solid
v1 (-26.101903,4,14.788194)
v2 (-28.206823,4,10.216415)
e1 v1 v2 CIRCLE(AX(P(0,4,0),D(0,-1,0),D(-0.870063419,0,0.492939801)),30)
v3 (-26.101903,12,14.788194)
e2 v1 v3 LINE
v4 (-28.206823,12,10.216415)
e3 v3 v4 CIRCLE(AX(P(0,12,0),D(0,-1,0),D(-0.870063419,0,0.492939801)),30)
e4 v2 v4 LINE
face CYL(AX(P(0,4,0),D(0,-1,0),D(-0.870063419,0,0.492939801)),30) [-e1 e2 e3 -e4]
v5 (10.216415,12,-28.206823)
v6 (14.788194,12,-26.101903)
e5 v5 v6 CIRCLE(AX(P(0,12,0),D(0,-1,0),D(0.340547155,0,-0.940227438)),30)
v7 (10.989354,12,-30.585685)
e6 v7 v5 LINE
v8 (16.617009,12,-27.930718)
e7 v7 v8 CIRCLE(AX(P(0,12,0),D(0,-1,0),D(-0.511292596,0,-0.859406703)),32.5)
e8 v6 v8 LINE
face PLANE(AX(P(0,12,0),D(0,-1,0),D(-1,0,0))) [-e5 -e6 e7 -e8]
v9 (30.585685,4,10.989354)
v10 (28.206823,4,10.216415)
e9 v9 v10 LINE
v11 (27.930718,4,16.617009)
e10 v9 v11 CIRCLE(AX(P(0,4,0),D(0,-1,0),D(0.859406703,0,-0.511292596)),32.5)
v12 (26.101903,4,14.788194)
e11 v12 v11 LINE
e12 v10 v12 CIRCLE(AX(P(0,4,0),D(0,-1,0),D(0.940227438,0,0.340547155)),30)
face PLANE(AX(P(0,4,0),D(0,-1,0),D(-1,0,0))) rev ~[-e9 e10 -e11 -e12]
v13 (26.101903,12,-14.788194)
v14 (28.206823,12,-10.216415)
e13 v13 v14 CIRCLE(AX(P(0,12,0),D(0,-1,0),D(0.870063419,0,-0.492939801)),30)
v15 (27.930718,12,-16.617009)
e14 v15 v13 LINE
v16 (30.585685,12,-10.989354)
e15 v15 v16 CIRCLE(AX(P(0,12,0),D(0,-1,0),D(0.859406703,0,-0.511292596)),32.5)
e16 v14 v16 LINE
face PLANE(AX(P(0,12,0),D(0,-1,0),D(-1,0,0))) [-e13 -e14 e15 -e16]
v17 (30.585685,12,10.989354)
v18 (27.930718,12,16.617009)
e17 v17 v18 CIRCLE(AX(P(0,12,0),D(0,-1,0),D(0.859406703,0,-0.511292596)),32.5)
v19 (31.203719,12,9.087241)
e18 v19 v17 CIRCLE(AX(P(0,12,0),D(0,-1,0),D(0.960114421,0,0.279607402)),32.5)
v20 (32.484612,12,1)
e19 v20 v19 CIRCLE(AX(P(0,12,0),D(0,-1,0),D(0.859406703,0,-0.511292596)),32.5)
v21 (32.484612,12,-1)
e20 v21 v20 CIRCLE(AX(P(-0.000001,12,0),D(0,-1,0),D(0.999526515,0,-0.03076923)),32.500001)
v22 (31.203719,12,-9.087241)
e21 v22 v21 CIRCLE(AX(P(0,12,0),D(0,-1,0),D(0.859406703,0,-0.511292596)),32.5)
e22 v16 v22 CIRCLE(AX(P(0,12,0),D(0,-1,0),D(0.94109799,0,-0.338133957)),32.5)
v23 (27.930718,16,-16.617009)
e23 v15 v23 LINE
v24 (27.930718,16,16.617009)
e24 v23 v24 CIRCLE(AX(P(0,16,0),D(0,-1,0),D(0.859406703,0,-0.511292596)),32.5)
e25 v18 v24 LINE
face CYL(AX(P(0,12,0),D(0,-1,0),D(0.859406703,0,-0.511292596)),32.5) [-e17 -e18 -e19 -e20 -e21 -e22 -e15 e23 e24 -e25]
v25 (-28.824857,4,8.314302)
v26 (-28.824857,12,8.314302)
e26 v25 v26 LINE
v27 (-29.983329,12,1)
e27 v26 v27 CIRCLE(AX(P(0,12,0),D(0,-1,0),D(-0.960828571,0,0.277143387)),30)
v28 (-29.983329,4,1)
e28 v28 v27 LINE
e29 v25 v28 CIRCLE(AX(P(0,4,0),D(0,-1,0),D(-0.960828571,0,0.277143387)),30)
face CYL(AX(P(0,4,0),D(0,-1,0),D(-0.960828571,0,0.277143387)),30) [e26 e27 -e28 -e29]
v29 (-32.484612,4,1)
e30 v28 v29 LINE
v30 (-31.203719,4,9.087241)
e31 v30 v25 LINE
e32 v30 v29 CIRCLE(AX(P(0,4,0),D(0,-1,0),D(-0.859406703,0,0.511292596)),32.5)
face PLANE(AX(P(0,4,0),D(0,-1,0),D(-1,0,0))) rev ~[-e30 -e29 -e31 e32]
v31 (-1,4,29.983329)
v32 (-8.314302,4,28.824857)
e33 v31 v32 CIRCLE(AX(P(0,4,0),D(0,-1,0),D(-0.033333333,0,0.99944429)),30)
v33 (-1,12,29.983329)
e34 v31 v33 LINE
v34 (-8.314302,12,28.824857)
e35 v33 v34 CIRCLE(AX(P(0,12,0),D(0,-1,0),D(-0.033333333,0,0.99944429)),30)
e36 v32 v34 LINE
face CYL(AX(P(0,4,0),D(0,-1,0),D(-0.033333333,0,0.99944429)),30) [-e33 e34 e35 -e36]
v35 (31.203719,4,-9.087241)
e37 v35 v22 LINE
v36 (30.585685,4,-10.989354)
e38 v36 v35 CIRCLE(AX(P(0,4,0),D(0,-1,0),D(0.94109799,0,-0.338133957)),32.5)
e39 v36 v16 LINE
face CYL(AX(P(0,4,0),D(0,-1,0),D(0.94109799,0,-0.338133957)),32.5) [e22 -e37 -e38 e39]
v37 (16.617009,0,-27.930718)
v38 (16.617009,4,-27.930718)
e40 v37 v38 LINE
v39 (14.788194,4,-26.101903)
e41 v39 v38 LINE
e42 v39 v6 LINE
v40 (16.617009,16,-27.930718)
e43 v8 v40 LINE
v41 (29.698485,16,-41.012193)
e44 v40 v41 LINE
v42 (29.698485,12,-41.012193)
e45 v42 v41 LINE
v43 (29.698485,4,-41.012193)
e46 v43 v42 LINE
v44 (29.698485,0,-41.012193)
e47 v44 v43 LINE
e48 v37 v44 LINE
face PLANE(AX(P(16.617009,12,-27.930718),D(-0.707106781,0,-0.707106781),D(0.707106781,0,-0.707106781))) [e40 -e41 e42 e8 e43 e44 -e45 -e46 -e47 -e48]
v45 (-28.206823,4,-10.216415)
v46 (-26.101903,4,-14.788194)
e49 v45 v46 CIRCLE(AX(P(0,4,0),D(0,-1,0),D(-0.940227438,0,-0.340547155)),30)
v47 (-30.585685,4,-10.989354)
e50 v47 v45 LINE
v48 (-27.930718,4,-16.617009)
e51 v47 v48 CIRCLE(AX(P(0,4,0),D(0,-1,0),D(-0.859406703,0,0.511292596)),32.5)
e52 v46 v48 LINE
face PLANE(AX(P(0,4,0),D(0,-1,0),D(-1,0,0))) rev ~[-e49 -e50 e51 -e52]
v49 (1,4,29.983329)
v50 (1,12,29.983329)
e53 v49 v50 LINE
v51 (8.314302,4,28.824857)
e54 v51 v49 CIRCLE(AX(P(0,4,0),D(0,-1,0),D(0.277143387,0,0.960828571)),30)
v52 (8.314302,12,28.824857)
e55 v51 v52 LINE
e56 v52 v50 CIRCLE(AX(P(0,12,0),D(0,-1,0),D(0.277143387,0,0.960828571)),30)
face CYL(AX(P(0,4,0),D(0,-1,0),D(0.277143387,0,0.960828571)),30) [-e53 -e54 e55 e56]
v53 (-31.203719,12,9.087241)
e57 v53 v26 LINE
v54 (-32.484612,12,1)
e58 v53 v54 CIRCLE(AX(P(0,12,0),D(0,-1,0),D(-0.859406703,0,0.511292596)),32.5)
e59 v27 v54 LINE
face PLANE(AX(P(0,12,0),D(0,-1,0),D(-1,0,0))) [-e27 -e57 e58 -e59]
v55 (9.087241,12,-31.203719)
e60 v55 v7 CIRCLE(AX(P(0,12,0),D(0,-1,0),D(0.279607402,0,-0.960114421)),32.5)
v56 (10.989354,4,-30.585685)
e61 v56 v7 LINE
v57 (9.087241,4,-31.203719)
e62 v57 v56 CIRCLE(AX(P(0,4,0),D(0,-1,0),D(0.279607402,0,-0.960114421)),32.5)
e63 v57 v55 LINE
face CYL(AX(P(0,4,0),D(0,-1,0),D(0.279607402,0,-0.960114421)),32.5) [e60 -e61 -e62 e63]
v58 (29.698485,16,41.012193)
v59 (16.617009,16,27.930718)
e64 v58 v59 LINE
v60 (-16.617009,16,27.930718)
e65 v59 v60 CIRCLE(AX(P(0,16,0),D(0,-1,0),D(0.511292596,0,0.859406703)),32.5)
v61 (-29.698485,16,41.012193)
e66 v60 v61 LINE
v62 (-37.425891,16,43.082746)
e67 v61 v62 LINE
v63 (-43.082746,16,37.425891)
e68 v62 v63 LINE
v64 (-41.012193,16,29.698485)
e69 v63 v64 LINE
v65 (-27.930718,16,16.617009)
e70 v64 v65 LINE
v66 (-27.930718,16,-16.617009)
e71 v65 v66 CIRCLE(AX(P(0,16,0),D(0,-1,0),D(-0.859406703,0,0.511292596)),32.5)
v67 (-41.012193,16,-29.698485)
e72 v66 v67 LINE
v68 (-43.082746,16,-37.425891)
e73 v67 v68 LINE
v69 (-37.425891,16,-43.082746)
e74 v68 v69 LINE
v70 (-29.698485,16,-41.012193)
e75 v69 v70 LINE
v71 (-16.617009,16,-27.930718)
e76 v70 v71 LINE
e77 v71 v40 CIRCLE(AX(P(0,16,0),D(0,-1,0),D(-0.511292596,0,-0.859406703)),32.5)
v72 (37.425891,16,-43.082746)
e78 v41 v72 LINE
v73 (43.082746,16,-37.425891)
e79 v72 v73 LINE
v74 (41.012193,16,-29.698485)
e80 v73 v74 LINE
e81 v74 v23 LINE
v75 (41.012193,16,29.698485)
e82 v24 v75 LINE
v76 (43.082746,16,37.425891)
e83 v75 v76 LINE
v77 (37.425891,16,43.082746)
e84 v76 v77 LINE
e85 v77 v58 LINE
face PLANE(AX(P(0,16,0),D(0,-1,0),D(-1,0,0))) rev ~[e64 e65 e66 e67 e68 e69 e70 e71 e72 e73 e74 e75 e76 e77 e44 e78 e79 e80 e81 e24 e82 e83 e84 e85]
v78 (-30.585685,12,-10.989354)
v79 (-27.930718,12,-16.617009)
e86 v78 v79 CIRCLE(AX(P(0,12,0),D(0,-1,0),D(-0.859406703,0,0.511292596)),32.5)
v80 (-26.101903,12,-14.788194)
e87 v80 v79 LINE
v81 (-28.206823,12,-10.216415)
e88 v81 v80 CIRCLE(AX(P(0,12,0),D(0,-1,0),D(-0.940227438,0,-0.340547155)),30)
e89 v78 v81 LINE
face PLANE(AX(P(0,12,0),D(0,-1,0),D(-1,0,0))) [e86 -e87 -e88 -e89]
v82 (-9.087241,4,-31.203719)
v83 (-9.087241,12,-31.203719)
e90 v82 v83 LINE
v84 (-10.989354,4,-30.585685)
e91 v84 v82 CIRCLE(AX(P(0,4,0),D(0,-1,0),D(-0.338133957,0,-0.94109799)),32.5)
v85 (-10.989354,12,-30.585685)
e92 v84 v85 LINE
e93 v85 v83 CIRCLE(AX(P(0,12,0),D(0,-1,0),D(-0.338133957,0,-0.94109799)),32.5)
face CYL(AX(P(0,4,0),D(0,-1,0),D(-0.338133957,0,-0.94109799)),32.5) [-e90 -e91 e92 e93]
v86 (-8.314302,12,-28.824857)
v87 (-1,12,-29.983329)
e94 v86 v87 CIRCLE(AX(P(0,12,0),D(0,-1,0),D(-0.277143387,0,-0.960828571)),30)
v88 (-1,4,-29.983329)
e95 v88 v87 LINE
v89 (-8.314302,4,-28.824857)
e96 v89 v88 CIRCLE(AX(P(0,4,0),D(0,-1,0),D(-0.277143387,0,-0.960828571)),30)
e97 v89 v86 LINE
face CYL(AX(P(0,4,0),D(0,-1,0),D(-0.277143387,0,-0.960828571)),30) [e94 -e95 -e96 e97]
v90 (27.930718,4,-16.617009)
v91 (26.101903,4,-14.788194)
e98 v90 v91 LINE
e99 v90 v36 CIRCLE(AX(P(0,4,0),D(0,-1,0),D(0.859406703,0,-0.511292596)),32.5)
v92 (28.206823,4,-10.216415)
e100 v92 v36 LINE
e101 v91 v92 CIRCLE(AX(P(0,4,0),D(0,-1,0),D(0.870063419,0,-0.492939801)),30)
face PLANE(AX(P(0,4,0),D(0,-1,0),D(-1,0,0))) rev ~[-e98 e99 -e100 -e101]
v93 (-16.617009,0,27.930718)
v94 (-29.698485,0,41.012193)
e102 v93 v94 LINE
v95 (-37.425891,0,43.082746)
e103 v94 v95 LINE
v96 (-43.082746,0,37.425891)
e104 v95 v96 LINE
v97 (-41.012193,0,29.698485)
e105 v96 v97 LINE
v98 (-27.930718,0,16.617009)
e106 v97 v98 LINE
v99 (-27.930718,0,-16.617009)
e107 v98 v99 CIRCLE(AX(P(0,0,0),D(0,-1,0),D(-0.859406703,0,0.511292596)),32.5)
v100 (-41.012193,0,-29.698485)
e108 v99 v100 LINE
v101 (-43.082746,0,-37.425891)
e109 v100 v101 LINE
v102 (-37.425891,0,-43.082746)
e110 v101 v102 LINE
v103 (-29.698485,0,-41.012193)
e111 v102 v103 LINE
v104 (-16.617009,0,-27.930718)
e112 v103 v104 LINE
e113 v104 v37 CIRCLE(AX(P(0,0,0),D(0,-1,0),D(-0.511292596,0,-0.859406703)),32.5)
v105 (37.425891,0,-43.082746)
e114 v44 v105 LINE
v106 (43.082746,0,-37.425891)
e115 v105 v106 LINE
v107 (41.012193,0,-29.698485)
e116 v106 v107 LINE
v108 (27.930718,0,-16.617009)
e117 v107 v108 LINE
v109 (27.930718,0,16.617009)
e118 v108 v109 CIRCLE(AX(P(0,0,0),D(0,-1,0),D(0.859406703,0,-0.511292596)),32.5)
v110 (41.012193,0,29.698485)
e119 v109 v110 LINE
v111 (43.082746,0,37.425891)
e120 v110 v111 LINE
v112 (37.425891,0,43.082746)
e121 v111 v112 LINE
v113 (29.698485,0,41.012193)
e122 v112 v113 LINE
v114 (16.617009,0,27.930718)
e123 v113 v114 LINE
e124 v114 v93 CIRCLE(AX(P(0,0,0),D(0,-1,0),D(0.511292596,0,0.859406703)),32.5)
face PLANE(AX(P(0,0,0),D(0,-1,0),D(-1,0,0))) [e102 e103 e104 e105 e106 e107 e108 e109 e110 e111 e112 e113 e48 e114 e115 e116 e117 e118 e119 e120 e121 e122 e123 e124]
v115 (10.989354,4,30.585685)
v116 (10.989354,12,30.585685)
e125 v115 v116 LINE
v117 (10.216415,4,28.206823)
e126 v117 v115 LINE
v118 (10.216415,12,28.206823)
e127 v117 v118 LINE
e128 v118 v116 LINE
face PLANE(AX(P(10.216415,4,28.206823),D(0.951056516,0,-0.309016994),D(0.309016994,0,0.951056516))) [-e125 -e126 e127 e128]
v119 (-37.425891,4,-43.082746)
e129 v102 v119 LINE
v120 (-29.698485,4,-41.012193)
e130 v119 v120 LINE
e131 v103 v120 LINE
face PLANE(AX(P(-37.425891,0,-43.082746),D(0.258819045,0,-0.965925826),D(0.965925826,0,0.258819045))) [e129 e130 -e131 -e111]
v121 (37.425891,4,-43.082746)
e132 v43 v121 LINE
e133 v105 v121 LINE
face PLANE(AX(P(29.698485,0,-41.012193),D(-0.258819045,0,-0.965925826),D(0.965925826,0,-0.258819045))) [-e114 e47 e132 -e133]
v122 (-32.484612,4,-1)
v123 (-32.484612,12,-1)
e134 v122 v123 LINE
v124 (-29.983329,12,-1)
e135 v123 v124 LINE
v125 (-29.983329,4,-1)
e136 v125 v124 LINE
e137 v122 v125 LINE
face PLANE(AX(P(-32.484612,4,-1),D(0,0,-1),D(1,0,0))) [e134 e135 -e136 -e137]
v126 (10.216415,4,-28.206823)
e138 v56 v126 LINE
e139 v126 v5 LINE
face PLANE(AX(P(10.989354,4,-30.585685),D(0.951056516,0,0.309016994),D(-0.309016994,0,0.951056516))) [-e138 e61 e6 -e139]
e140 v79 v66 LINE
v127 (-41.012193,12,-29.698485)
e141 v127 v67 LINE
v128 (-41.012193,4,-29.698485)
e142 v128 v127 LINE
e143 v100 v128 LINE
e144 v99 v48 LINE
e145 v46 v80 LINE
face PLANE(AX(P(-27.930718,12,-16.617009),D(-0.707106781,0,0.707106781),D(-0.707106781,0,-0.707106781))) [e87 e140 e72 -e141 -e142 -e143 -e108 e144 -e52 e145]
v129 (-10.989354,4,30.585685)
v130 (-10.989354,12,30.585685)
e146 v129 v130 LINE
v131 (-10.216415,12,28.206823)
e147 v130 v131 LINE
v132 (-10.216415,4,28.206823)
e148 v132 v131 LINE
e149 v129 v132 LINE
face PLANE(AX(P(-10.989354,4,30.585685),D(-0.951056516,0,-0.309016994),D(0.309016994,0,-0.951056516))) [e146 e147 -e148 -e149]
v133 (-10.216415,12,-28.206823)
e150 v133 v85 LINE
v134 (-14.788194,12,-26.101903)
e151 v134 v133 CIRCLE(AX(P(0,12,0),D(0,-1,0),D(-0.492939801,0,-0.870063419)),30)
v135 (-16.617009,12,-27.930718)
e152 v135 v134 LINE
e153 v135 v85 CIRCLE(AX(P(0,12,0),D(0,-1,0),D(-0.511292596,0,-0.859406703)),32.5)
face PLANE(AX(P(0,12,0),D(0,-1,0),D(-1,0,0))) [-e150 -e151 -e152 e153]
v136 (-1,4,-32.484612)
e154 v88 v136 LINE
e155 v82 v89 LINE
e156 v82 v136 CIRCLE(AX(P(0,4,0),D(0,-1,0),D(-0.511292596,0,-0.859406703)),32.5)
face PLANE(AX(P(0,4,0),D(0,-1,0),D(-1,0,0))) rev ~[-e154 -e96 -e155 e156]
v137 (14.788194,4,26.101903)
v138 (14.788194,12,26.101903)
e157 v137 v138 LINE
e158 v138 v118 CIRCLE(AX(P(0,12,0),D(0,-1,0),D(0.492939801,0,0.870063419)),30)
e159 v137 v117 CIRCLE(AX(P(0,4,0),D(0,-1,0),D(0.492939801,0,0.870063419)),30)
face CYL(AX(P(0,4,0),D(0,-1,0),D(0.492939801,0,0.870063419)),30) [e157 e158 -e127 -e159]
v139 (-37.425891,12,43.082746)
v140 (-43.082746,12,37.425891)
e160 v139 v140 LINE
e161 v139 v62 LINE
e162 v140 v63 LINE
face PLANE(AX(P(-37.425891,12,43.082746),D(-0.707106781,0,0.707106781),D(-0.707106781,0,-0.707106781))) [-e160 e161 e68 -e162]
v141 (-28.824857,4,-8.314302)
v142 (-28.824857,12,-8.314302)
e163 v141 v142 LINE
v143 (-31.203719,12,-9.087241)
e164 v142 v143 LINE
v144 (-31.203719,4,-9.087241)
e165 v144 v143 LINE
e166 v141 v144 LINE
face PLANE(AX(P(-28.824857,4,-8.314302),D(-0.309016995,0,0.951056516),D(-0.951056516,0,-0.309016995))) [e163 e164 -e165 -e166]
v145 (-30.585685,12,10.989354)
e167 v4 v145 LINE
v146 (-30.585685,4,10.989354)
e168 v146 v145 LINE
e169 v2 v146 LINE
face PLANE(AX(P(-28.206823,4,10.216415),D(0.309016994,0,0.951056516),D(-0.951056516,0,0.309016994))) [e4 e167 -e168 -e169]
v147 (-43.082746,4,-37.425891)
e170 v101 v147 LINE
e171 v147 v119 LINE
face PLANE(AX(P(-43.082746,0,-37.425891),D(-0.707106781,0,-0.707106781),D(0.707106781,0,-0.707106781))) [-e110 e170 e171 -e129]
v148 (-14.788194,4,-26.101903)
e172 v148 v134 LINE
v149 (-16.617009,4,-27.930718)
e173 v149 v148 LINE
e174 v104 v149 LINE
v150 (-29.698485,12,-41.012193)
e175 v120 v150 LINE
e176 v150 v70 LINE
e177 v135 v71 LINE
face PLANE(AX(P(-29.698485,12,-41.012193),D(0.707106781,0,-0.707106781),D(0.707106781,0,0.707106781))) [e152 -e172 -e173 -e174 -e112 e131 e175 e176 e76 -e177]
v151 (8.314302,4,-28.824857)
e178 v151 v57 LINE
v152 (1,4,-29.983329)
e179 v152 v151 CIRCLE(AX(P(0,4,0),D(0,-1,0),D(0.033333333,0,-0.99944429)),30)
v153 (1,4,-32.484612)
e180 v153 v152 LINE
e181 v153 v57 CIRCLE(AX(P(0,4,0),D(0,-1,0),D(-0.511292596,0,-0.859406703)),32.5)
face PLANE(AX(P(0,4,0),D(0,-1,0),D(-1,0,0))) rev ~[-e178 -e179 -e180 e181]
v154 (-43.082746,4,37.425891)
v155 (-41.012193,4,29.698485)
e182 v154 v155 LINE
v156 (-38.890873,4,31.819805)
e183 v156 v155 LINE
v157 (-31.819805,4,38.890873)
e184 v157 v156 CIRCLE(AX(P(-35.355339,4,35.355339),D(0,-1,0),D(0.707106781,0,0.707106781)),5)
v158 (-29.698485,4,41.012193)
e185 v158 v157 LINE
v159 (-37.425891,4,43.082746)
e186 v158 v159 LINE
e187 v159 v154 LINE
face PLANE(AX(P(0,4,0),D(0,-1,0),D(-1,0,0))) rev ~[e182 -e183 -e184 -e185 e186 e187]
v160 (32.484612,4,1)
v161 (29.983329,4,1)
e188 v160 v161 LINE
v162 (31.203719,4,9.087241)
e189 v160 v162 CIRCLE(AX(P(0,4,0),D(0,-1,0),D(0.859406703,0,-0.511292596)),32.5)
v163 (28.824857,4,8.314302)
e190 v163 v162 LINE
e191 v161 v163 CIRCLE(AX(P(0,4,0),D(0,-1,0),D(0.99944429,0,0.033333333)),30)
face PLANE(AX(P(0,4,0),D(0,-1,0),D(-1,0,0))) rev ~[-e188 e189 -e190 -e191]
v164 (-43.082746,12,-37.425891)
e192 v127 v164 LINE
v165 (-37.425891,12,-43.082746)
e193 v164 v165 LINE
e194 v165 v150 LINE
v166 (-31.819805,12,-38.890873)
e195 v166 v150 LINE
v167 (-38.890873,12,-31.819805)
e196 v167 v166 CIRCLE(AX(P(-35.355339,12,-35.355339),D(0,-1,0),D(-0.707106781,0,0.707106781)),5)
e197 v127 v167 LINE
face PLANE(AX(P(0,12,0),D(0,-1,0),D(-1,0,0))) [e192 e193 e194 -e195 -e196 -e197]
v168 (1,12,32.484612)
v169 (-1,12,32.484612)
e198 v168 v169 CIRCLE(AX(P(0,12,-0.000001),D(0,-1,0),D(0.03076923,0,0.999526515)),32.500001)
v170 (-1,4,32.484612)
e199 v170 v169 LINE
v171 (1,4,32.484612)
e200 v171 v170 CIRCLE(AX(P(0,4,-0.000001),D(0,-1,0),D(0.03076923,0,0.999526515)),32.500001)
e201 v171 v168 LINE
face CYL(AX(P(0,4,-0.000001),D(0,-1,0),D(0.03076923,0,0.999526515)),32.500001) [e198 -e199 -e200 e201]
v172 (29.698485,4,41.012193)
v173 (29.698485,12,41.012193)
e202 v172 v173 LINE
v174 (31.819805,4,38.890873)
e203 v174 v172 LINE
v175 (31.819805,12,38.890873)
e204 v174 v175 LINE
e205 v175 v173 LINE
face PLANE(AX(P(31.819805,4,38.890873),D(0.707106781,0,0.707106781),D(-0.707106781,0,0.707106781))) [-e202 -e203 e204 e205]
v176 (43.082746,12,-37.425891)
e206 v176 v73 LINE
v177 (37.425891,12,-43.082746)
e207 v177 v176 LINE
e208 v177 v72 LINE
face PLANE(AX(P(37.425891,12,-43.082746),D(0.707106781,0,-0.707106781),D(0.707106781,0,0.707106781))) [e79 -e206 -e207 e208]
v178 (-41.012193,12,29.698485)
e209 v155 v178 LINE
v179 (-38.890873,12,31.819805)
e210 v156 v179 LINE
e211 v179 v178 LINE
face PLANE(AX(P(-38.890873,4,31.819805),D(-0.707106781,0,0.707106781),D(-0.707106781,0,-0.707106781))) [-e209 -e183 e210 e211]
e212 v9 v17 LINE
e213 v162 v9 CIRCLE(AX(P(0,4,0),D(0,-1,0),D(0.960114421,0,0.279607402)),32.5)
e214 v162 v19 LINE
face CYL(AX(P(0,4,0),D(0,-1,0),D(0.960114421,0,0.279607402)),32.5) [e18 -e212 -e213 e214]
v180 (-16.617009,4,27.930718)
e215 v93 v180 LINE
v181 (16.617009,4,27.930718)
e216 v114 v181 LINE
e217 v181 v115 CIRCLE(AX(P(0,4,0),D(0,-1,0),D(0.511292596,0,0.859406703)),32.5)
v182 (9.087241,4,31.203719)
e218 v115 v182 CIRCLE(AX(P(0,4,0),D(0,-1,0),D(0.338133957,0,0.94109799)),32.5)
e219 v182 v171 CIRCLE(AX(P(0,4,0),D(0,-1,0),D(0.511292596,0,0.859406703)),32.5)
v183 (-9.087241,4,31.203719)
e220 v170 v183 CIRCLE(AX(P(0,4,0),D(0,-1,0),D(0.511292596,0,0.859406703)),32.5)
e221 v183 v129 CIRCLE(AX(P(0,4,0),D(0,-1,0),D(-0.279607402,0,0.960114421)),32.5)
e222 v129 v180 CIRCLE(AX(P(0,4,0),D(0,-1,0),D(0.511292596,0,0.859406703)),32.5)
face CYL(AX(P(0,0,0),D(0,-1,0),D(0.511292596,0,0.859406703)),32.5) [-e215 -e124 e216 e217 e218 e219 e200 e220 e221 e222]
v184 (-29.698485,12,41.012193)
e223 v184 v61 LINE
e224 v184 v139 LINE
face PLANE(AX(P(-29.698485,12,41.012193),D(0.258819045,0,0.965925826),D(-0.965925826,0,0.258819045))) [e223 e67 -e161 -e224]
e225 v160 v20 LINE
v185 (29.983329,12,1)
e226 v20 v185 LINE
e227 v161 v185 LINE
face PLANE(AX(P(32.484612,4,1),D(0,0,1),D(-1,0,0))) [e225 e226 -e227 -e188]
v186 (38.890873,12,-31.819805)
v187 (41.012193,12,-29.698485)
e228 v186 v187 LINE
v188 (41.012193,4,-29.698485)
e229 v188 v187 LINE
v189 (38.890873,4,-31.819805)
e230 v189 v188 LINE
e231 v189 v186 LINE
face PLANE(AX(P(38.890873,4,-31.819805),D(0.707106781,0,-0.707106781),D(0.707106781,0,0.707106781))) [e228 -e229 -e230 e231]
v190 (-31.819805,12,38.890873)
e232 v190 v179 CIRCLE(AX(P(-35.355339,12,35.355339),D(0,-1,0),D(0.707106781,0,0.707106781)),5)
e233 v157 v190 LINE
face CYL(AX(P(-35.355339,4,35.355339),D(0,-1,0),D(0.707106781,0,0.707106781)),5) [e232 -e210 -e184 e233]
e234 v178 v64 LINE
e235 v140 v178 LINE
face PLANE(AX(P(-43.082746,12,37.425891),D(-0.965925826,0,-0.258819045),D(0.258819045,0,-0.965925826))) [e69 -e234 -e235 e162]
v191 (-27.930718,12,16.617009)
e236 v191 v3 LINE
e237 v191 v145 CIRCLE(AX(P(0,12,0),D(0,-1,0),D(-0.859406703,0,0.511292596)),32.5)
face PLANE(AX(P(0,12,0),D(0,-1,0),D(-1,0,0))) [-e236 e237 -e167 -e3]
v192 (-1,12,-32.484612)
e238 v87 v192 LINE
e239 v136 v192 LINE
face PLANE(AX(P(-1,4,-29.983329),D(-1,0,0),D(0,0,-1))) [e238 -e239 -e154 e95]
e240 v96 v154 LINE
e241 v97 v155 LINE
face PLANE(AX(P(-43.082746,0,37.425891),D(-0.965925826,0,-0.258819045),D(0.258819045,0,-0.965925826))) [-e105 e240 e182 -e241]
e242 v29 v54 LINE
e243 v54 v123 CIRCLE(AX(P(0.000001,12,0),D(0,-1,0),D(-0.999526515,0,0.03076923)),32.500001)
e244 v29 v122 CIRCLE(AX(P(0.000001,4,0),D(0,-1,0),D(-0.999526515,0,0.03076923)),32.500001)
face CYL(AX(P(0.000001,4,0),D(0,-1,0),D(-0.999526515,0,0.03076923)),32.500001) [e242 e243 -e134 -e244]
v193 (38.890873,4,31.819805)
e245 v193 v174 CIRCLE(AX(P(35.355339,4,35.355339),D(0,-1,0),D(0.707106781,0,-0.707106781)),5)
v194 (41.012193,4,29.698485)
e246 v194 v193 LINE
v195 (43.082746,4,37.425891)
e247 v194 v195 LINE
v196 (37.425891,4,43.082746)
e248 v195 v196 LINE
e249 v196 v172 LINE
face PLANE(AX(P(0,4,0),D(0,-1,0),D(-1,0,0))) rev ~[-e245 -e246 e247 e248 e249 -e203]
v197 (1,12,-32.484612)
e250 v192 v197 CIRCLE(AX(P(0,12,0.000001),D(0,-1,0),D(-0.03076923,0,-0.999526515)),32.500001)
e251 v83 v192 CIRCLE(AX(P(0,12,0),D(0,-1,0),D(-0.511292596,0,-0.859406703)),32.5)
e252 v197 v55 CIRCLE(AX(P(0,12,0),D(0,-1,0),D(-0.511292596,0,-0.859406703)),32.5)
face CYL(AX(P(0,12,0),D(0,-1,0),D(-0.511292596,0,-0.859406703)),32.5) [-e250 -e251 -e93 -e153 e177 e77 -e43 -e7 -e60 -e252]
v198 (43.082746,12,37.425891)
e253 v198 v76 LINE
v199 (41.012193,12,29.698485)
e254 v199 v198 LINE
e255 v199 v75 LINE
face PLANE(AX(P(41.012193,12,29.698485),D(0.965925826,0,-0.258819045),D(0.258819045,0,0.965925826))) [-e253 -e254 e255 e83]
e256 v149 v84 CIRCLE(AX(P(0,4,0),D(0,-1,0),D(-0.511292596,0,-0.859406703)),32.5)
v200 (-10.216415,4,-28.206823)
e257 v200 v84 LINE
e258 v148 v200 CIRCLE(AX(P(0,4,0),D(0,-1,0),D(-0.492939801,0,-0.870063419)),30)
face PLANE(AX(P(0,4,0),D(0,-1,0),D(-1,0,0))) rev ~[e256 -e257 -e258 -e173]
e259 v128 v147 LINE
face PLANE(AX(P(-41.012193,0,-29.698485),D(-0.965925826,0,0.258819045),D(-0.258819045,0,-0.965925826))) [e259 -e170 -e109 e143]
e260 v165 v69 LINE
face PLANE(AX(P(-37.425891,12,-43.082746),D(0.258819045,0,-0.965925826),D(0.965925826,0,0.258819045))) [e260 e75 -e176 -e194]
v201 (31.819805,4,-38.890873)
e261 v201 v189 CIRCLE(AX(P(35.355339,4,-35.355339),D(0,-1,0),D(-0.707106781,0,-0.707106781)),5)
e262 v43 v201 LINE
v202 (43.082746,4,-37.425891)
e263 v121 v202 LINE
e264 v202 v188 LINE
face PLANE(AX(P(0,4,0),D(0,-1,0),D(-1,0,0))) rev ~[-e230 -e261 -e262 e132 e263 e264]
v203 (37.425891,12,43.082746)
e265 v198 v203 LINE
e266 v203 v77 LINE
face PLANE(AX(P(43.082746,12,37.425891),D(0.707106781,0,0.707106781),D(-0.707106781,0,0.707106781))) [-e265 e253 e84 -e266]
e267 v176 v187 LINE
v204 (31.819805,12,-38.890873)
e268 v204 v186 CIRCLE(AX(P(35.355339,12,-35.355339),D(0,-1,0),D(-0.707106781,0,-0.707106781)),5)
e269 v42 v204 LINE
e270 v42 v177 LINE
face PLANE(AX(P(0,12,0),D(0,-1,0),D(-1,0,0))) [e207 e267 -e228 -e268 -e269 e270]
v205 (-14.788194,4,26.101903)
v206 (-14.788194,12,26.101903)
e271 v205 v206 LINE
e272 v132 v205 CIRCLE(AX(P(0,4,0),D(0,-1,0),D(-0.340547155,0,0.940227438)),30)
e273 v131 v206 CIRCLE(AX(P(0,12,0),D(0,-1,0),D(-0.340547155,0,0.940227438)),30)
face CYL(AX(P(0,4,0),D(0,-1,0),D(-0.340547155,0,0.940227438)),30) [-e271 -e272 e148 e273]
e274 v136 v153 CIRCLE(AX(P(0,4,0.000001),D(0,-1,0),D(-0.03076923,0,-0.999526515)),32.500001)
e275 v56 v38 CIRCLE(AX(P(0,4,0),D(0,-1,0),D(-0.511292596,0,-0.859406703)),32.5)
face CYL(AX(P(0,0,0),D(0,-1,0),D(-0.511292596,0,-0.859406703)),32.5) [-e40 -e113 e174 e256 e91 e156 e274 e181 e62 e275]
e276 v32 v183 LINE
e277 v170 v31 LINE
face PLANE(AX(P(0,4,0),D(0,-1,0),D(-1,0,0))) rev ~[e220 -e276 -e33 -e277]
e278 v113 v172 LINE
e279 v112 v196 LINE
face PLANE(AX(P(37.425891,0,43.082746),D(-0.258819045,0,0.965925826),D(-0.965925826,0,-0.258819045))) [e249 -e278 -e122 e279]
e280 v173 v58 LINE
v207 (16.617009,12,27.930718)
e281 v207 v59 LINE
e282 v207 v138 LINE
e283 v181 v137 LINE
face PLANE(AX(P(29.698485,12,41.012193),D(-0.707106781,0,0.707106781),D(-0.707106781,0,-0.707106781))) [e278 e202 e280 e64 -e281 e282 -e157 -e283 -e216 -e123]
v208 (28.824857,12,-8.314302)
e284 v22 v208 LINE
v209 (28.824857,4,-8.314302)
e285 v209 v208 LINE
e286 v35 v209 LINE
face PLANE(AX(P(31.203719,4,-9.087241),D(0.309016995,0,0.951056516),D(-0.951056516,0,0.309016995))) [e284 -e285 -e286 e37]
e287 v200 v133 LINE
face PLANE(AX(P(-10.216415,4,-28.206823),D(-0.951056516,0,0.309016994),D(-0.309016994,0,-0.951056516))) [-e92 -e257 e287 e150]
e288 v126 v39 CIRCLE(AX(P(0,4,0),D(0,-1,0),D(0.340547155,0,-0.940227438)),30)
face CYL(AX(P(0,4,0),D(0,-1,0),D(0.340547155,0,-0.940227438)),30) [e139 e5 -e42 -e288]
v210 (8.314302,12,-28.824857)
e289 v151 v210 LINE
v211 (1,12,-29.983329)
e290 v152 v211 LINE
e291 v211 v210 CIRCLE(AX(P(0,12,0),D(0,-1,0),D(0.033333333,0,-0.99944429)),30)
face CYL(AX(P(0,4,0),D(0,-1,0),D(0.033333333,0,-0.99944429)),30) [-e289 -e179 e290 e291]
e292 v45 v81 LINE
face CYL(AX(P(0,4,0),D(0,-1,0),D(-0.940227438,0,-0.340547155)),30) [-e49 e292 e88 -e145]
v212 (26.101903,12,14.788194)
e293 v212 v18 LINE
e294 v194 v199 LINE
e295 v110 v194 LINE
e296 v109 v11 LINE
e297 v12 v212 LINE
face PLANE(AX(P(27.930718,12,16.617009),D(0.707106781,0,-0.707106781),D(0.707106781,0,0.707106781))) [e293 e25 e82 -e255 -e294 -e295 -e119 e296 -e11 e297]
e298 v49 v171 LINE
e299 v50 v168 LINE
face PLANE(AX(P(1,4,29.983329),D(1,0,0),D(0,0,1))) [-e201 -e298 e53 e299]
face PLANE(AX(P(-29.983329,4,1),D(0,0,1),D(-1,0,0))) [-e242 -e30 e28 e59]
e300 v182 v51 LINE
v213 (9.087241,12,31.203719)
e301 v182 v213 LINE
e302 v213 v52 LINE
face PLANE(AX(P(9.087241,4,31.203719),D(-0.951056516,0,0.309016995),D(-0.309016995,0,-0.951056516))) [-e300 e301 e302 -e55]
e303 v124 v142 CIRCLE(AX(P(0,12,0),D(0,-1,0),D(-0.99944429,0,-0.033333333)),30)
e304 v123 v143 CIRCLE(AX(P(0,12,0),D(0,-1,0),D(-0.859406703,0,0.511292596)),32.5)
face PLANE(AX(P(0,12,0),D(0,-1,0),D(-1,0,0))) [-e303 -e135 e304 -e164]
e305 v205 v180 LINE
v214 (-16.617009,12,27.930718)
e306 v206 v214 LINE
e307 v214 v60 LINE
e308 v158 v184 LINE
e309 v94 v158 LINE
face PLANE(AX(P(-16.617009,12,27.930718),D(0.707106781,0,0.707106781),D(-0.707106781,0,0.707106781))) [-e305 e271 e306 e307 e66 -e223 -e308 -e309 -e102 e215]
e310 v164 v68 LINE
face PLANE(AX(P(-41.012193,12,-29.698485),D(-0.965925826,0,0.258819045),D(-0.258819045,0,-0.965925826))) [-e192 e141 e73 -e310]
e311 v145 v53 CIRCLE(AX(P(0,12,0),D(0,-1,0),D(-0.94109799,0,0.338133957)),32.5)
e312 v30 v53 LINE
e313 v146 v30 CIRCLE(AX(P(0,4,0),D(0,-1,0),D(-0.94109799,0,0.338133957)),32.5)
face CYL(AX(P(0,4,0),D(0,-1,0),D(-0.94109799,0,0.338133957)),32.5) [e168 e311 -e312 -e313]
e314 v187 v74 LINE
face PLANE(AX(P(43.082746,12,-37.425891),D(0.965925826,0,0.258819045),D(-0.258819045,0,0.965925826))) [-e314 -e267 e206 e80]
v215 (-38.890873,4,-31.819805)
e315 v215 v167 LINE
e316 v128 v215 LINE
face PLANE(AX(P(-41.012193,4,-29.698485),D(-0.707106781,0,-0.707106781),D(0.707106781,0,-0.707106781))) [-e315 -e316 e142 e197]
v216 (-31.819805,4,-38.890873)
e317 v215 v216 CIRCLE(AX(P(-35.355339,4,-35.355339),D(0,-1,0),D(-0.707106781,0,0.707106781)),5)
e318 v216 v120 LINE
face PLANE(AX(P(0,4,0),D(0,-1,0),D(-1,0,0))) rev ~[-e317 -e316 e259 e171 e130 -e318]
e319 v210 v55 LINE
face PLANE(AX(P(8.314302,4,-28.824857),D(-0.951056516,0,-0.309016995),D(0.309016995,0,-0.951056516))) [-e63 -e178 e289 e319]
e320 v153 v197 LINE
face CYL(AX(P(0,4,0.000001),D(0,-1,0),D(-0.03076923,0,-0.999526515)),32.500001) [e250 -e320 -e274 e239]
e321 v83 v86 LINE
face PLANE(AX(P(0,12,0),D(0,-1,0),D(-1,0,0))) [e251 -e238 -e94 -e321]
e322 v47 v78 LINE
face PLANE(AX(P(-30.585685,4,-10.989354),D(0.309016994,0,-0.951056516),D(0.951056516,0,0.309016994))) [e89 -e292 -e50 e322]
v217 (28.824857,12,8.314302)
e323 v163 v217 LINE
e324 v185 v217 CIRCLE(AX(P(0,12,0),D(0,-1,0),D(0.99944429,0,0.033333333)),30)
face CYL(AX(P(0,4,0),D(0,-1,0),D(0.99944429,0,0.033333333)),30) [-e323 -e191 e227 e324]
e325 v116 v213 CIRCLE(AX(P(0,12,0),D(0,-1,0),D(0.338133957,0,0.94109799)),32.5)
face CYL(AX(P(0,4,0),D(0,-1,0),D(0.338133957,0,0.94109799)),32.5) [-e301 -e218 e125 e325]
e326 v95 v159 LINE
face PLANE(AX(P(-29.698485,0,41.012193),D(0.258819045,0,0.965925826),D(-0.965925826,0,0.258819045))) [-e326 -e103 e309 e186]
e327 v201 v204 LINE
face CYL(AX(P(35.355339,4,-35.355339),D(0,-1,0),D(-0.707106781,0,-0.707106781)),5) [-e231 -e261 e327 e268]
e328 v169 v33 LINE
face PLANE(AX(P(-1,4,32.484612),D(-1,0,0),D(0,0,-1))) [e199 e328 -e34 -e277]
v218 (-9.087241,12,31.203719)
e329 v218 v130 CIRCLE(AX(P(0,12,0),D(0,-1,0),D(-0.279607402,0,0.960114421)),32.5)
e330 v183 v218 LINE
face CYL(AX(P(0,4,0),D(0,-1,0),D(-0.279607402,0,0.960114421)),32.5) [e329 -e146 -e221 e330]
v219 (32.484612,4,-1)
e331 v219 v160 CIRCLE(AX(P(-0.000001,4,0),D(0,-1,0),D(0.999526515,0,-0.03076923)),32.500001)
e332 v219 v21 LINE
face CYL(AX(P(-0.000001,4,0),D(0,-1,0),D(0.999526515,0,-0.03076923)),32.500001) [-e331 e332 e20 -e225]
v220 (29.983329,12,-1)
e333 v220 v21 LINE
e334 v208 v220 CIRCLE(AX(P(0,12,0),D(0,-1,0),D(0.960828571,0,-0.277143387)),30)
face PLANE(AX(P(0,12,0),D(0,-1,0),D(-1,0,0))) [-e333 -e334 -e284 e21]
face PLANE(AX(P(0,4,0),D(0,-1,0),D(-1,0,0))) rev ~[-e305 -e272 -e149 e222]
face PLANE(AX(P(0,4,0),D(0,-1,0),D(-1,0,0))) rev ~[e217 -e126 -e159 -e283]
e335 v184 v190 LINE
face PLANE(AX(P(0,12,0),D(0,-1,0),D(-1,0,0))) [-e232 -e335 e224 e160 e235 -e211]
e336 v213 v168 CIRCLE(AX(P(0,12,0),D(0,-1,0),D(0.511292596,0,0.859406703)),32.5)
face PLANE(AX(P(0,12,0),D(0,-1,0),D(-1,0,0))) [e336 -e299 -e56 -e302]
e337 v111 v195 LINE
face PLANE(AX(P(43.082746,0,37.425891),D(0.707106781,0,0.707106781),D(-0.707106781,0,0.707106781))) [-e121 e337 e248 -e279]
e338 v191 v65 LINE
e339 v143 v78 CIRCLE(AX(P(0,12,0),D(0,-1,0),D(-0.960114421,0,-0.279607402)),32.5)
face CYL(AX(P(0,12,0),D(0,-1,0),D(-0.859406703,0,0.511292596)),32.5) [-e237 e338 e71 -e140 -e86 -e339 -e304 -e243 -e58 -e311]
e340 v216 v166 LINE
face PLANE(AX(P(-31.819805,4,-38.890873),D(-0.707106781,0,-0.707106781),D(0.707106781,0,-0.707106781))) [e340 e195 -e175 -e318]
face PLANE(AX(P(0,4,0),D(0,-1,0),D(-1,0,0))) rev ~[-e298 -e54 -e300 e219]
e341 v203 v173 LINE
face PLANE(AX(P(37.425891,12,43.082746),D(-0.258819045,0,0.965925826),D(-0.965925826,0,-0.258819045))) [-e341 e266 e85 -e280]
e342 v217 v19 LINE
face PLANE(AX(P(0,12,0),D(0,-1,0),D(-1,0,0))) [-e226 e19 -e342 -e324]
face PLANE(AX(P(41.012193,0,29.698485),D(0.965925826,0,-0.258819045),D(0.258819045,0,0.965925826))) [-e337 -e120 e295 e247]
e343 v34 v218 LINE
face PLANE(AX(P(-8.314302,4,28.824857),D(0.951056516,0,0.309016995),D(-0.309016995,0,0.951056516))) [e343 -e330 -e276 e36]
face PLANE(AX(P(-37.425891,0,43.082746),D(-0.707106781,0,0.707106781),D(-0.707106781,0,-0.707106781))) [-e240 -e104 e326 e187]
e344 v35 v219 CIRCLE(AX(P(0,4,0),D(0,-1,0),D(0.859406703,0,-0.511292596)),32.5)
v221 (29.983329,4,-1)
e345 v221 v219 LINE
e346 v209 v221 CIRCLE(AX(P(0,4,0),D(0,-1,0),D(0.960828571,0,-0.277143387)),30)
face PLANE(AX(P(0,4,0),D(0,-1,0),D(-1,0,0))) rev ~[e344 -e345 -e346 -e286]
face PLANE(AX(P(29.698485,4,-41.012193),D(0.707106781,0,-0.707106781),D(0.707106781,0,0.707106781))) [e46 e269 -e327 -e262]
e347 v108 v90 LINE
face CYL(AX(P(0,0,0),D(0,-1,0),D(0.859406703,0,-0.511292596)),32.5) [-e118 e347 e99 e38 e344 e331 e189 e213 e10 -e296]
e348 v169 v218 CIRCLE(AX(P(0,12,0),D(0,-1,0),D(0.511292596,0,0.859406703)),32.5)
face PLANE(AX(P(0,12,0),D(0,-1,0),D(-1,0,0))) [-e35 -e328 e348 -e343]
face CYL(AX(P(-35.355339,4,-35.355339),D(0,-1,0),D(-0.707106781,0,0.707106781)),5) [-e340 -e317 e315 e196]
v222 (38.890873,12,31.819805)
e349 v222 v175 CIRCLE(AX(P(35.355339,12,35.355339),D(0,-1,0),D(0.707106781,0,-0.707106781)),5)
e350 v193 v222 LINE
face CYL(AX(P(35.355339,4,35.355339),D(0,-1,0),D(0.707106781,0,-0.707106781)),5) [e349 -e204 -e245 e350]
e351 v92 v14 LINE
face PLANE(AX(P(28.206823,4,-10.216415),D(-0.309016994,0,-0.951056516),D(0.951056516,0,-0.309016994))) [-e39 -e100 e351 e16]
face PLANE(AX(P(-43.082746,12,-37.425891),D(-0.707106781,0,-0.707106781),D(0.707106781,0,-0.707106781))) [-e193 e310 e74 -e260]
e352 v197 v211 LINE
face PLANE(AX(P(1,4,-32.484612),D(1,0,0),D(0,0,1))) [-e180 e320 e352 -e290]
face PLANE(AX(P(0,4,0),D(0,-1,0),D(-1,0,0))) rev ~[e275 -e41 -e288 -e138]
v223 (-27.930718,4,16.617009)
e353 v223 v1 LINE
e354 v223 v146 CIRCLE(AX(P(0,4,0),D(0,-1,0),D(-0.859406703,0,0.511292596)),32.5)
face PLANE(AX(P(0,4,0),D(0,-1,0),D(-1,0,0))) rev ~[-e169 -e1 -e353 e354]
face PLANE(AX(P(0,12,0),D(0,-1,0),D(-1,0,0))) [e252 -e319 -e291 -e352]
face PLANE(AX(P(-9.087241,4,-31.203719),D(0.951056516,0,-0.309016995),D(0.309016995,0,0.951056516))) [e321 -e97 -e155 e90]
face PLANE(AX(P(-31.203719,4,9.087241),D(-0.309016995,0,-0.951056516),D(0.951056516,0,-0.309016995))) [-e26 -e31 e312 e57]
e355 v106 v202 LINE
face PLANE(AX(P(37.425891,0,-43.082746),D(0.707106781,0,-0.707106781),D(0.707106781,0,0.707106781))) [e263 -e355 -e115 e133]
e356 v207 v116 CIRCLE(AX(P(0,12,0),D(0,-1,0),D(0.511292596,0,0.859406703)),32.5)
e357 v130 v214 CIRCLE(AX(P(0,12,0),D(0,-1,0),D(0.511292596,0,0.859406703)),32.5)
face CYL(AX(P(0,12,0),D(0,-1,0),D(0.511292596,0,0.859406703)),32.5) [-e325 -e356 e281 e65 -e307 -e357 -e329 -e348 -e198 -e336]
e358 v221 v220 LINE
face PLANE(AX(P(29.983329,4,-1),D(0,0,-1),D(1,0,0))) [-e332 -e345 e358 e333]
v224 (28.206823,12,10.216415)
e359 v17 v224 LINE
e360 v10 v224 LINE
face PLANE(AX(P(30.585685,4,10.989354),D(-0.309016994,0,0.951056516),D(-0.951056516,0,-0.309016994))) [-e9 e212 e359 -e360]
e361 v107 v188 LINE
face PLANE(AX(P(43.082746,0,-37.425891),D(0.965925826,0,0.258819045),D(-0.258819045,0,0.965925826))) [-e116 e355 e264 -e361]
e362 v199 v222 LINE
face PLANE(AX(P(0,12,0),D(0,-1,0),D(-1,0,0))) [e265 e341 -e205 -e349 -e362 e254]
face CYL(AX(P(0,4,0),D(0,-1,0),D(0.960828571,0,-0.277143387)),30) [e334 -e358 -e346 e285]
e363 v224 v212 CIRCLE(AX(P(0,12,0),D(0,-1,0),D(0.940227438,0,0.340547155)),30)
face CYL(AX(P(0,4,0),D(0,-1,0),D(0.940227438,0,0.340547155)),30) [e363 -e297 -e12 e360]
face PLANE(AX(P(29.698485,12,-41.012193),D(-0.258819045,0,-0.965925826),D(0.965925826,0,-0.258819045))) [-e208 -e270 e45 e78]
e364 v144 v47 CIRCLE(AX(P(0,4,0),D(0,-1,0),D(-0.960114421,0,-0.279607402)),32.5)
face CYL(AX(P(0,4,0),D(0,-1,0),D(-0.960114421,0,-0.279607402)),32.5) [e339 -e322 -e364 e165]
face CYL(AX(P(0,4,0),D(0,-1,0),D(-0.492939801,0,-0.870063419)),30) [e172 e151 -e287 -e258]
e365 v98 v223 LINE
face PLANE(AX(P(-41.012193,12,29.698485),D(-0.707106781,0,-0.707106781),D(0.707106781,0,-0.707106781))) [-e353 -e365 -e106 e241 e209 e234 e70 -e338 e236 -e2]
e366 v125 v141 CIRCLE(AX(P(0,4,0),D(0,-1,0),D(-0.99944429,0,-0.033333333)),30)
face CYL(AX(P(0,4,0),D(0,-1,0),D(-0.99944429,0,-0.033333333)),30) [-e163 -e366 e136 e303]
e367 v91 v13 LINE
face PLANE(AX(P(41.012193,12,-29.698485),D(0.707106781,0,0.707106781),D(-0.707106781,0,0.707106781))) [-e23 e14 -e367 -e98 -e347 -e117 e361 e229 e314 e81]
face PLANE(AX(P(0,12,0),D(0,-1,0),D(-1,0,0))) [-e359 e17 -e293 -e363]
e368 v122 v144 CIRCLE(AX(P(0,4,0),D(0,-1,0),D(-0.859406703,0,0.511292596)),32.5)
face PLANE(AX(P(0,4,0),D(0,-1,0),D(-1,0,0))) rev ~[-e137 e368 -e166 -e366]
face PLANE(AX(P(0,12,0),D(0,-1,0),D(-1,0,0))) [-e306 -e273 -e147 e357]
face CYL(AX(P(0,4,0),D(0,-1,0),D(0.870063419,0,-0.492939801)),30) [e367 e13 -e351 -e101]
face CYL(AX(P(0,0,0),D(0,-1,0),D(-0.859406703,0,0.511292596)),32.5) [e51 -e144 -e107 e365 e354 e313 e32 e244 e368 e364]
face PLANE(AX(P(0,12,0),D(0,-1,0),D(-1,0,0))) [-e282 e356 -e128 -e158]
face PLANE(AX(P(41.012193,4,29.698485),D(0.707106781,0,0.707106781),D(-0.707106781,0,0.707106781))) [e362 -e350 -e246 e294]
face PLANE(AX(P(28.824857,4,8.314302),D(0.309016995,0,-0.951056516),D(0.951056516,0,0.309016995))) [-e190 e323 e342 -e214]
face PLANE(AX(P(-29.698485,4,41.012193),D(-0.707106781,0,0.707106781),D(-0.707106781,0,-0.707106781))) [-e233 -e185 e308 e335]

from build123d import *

# Parameters (mm, degrees)
BOSS_EXTRUDE8_DEPTH  = 4
BOSS_EXTRUDE10_DEPTH = 8
BOSS_EXTRUDE11_DEPTH = 4


with BuildPart() as part:
    # Sketch11 → Boss-Extrude8 (new body)
    with BuildSketch(Plane(origin=(0, 0, 0), x_dir=(1, 0, 0), z_dir=(0, 1, 0))):
        with BuildLine():
            Line((27.930717857, -16.617009358), (41.012193309, -29.69848481))
            Line((41.012193309, -29.69848481), (43.08274567, -37.42589142))
            Line((43.08274567, -37.42589142), (37.42589142, -43.08274567))
            Line((37.42589142, -43.08274567), (29.69848481, -41.012193309))
            Line((29.69848481, -41.012193309), (16.617009358, -27.930717857))
            ThreePointArc((16.617009358, -27.930717857), (0, -32.5), (-16.617009358, -27.930717857))
            Line((-16.617009358, -27.930717857), (-29.69848481, -41.012193309))
            Line((-29.69848481, -41.012193309), (-37.42589142, -43.08274567))
            Line((-37.42589142, -43.08274567), (-43.08274567, -37.42589142))
            Line((-43.08274567, -37.42589142), (-41.012193309, -29.69848481))
            Line((-41.012193309, -29.69848481), (-27.930717857, -16.617009358))
            ThreePointArc((-27.930717857, -16.617009358), (-32.5, 0), (-27.930717857, 16.617009358))
            Line((-27.930717857, 16.617009358), (-41.012193309, 29.69848481))
            Line((-41.012193309, 29.69848481), (-43.08274567, 37.42589142))
            Line((-43.08274567, 37.42589142), (-37.42589142, 43.08274567))
            Line((-37.42589142, 43.08274567), (-29.69848481, 41.012193309))
            Line((-29.69848481, 41.012193309), (-16.617009358, 27.930717857))
            ThreePointArc((-16.617009358, 27.930717857), (0, 32.5), (16.617009358, 27.930717857))
            Line((16.617009358, 27.930717857), (29.69848481, 41.012193309))
            Line((29.69848481, 41.012193309), (37.42589142, 43.08274567))
            Line((37.42589142, 43.08274567), (43.08274567, 37.42589142))
            Line((43.08274567, 37.42589142), (41.012193309, 29.69848481))
            Line((41.012193309, 29.69848481), (27.930717857, 16.617009358))
            ThreePointArc((27.930717857, 16.617009358), (32.5, 0), (27.930717857, -16.617009358))
        make_face()
    extrude(amount=BOSS_EXTRUDE8_DEPTH)

    # Sketch12 → Boss-Extrude10 (add)
    with BuildSketch(Plane(origin=(0, 4, 0), x_dir=(1, 0, 0), z_dir=(0, 1, 0))):
        with BuildLine():
            Line((38.890872967, 31.819805152), (41.012193309, 29.69848481))
            Line((41.012193309, 29.69848481), (26.10190255, 14.788194051))
            ThreePointArc((26.10190255, 14.788194051), (27.250407583, 12.546524879), (28.206823147, 10.216414633))
            Line((28.206823147, 10.216414633), (30.585684682, 10.9893536))
            ThreePointArc((30.585684682, 10.9893536), (30.90933678, 10.043052317), (31.203718671, 9.087240568))
            Line((31.203718671, 9.087240568), (28.824857136, 8.3143016))
            ThreePointArc((28.824857136, 8.3143016), (29.630650218, 4.693033951), (29.983328701, 1))
            Line((29.983328701, 1), (32.484611742, 1))
            ThreePointArc((32.484611742, 1), (32.5, 0), (32.484611742, -1))
            Line((32.484611742, -1), (29.983328701, -1))
            ThreePointArc((29.983328701, -1), (29.630650218, -4.693033951), (28.824857136, -8.3143016))
            Line((28.824857136, -8.3143016), (31.203718671, -9.087240568))
            ThreePointArc((31.203718671, -9.087240568), (30.90933678, -10.043052317), (30.585684682, -10.9893536))
            Line((30.585684682, -10.9893536), (28.206823147, -10.216414633))
            ThreePointArc((28.206823147, -10.216414633), (27.250407583, -12.546524879), (26.10190255, -14.788194051))
            Line((26.10190255, -14.788194051), (41.012193309, -29.69848481))
            Line((41.012193309, -29.69848481), (38.890872965, -31.819805153))
            ThreePointArc((38.890872965, -31.819805153), (38.890872965, -38.890872967), (31.819805152, -38.890872967))
            Line((31.819805152, -38.890872967), (29.69848481, -41.012193309))
            Line((29.69848481, -41.012193309), (14.788194051, -26.10190255))
            ThreePointArc((14.788194051, -26.10190255), (12.546524879, -27.250407583), (10.216414633, -28.206823147))
            Line((10.216414633, -28.206823147), (10.9893536, -30.585684682))
            ThreePointArc((10.9893536, -30.585684682), (10.043052317, -30.90933678), (9.087240568, -31.203718671))
            Line((9.087240568, -31.203718671), (8.3143016, -28.824857136))
            ThreePointArc((8.3143016, -28.824857136), (4.693033951, -29.630650218), (1, -29.983328701))
            Line((1, -29.983328701), (1, -32.484611742))
            ThreePointArc((1, -32.484611742), (0, -32.5), (-1, -32.484611742))
            Line((-1, -32.484611742), (-1, -29.983328701))
            ThreePointArc((-1, -29.983328701), (-4.693033951, -29.630650218), (-8.3143016, -28.824857136))
            Line((-8.3143016, -28.824857136), (-9.087240568, -31.203718671))
            ThreePointArc((-9.087240568, -31.203718671), (-10.043052317, -30.90933678), (-10.9893536, -30.585684682))
            Line((-10.9893536, -30.585684682), (-10.216414633, -28.206823147))
            ThreePointArc((-10.216414633, -28.206823147), (-12.546524879, -27.250407583), (-14.788194051, -26.10190255))
            Line((-14.788194051, -26.10190255), (-29.69848481, -41.012193309))
            Line((-29.69848481, -41.012193309), (-31.819805153, -38.890872965))
            ThreePointArc((-31.819805153, -38.890872965), (-38.890872967, -38.890872965), (-38.890872967, -31.819805152))
            Line((-38.890872967, -31.819805152), (-41.012193309, -29.69848481))
            Line((-41.012193309, -29.69848481), (-26.10190255, -14.788194051))
            ThreePointArc((-26.10190255, -14.788194051), (-27.250407583, -12.546524879), (-28.206823147, -10.216414633))
            Line((-28.206823147, -10.216414633), (-30.585684682, -10.9893536))
            ThreePointArc((-30.585684682, -10.9893536), (-30.90933678, -10.043052317), (-31.203718671, -9.087240568))
            Line((-31.203718671, -9.087240568), (-28.824857136, -8.3143016))
            ThreePointArc((-28.824857136, -8.3143016), (-29.630650218, -4.693033951), (-29.983328701, -1))
            Line((-29.983328701, -1), (-32.484611742, -1))
            ThreePointArc((-32.484611742, -1), (-32.5, 0), (-32.484611742, 1))
            Line((-32.484611742, 1), (-29.983328701, 1))
            ThreePointArc((-29.983328701, 1), (-29.630650218, 4.693033951), (-28.824857136, 8.3143016))
            Line((-28.824857136, 8.3143016), (-31.203718671, 9.087240568))
            ThreePointArc((-31.203718671, 9.087240568), (-30.90933678, 10.043052317), (-30.585684682, 10.9893536))
            Line((-30.585684682, 10.9893536), (-28.206823147, 10.216414633))
            ThreePointArc((-28.206823147, 10.216414633), (-27.250407583, 12.546524879), (-26.10190255, 14.788194051))
            Line((-26.10190255, 14.788194051), (-41.012193309, 29.69848481))
            Line((-41.012193309, 29.69848481), (-38.890872965, 31.819805153))
            ThreePointArc((-38.890872965, 31.819805153), (-38.890872965, 38.890872967), (-31.819805152, 38.890872967))
            Line((-31.819805152, 38.890872967), (-29.69848481, 41.012193309))
            Line((-29.69848481, 41.012193309), (-14.788194051, 26.10190255))
            ThreePointArc((-14.788194051, 26.10190255), (-12.546524879, 27.250407583), (-10.216414633, 28.206823147))
            Line((-10.216414633, 28.206823147), (-10.9893536, 30.585684682))
            ThreePointArc((-10.9893536, 30.585684682), (-10.043052317, 30.90933678), (-9.087240568, 31.203718671))
            Line((-9.087240568, 31.203718671), (-8.3143016, 28.824857136))
            ThreePointArc((-8.3143016, 28.824857136), (-4.693033951, 29.630650218), (-1, 29.983328701))
            Line((-1, 29.983328701), (-1, 32.484611742))
            ThreePointArc((-1, 32.484611742), (0, 32.5), (1, 32.484611742))
            Line((1, 32.484611742), (1, 29.983328701))
            ThreePointArc((1, 29.983328701), (4.693033951, 29.630650218), (8.3143016, 28.824857136))
            Line((8.3143016, 28.824857136), (9.087240568, 31.203718671))
            ThreePointArc((9.087240568, 31.203718671), (10.043052317, 30.90933678), (10.9893536, 30.585684682))
            Line((10.9893536, 30.585684682), (10.216414633, 28.206823147))
            ThreePointArc((10.216414633, 28.206823147), (12.546524879, 27.250407583), (14.788194051, 26.10190255))
            Line((14.788194051, 26.10190255), (29.69848481, 41.012193309))
            Line((29.69848481, 41.012193309), (31.819805153, 38.890872965))
            ThreePointArc((31.819805153, 38.890872965), (38.890872967, 38.890872965), (38.890872967, 31.819805152))
        make_face()
    extrude(amount=BOSS_EXTRUDE10_DEPTH)

    # Sketch13 → Boss-Extrude11 (add)
    with BuildSketch(Plane(origin=(0, 12, 0), x_dir=(1, 0, 0), z_dir=(0, 1, 0))):
        with BuildLine():
            Line((27.930717857, -16.617009358), (41.012193309, -29.69848481))
            Line((41.012193309, -29.69848481), (43.08274567, -37.42589142))
            Line((43.08274567, -37.42589142), (37.42589142, -43.08274567))
            Line((37.42589142, -43.08274567), (29.69848481, -41.012193309))
            Line((29.69848481, -41.012193309), (16.617009358, -27.930717857))
            ThreePointArc((16.617009358, -27.930717857), (0, -32.5), (-16.617009358, -27.930717857))
            Line((-16.617009358, -27.930717857), (-29.69848481, -41.012193309))
            Line((-29.69848481, -41.012193309), (-37.42589142, -43.08274567))
            Line((-37.42589142, -43.08274567), (-43.08274567, -37.42589142))
            Line((-43.08274567, -37.42589142), (-41.012193309, -29.69848481))
            Line((-41.012193309, -29.69848481), (-27.930717857, -16.617009358))
            ThreePointArc((-27.930717857, -16.617009358), (-32.5, 0), (-27.930717857, 16.617009358))
            Line((-27.930717857, 16.617009358), (-41.012193309, 29.69848481))
            Line((-41.012193309, 29.69848481), (-43.08274567, 37.42589142))
            Line((-43.08274567, 37.42589142), (-37.42589142, 43.08274567))
            Line((-37.42589142, 43.08274567), (-29.69848481, 41.012193309))
            Line((-29.69848481, 41.012193309), (-16.617009358, 27.930717857))
            ThreePointArc((-16.617009358, 27.930717857), (0, 32.5), (16.617009358, 27.930717857))
            Line((16.617009358, 27.930717857), (29.69848481, 41.012193309))
            Line((29.69848481, 41.012193309), (37.42589142, 43.08274567))
            Line((37.42589142, 43.08274567), (43.08274567, 37.42589142))
            Line((43.08274567, 37.42589142), (41.012193309, 29.69848481))
            Line((41.012193309, 29.69848481), (27.930717857, 16.617009358))
            ThreePointArc((27.930717857, 16.617009358), (32.5, 0), (27.930717857, -16.617009358))
        make_face()
    extrude(amount=BOSS_EXTRUDE11_DEPTH)


solid = part.part
